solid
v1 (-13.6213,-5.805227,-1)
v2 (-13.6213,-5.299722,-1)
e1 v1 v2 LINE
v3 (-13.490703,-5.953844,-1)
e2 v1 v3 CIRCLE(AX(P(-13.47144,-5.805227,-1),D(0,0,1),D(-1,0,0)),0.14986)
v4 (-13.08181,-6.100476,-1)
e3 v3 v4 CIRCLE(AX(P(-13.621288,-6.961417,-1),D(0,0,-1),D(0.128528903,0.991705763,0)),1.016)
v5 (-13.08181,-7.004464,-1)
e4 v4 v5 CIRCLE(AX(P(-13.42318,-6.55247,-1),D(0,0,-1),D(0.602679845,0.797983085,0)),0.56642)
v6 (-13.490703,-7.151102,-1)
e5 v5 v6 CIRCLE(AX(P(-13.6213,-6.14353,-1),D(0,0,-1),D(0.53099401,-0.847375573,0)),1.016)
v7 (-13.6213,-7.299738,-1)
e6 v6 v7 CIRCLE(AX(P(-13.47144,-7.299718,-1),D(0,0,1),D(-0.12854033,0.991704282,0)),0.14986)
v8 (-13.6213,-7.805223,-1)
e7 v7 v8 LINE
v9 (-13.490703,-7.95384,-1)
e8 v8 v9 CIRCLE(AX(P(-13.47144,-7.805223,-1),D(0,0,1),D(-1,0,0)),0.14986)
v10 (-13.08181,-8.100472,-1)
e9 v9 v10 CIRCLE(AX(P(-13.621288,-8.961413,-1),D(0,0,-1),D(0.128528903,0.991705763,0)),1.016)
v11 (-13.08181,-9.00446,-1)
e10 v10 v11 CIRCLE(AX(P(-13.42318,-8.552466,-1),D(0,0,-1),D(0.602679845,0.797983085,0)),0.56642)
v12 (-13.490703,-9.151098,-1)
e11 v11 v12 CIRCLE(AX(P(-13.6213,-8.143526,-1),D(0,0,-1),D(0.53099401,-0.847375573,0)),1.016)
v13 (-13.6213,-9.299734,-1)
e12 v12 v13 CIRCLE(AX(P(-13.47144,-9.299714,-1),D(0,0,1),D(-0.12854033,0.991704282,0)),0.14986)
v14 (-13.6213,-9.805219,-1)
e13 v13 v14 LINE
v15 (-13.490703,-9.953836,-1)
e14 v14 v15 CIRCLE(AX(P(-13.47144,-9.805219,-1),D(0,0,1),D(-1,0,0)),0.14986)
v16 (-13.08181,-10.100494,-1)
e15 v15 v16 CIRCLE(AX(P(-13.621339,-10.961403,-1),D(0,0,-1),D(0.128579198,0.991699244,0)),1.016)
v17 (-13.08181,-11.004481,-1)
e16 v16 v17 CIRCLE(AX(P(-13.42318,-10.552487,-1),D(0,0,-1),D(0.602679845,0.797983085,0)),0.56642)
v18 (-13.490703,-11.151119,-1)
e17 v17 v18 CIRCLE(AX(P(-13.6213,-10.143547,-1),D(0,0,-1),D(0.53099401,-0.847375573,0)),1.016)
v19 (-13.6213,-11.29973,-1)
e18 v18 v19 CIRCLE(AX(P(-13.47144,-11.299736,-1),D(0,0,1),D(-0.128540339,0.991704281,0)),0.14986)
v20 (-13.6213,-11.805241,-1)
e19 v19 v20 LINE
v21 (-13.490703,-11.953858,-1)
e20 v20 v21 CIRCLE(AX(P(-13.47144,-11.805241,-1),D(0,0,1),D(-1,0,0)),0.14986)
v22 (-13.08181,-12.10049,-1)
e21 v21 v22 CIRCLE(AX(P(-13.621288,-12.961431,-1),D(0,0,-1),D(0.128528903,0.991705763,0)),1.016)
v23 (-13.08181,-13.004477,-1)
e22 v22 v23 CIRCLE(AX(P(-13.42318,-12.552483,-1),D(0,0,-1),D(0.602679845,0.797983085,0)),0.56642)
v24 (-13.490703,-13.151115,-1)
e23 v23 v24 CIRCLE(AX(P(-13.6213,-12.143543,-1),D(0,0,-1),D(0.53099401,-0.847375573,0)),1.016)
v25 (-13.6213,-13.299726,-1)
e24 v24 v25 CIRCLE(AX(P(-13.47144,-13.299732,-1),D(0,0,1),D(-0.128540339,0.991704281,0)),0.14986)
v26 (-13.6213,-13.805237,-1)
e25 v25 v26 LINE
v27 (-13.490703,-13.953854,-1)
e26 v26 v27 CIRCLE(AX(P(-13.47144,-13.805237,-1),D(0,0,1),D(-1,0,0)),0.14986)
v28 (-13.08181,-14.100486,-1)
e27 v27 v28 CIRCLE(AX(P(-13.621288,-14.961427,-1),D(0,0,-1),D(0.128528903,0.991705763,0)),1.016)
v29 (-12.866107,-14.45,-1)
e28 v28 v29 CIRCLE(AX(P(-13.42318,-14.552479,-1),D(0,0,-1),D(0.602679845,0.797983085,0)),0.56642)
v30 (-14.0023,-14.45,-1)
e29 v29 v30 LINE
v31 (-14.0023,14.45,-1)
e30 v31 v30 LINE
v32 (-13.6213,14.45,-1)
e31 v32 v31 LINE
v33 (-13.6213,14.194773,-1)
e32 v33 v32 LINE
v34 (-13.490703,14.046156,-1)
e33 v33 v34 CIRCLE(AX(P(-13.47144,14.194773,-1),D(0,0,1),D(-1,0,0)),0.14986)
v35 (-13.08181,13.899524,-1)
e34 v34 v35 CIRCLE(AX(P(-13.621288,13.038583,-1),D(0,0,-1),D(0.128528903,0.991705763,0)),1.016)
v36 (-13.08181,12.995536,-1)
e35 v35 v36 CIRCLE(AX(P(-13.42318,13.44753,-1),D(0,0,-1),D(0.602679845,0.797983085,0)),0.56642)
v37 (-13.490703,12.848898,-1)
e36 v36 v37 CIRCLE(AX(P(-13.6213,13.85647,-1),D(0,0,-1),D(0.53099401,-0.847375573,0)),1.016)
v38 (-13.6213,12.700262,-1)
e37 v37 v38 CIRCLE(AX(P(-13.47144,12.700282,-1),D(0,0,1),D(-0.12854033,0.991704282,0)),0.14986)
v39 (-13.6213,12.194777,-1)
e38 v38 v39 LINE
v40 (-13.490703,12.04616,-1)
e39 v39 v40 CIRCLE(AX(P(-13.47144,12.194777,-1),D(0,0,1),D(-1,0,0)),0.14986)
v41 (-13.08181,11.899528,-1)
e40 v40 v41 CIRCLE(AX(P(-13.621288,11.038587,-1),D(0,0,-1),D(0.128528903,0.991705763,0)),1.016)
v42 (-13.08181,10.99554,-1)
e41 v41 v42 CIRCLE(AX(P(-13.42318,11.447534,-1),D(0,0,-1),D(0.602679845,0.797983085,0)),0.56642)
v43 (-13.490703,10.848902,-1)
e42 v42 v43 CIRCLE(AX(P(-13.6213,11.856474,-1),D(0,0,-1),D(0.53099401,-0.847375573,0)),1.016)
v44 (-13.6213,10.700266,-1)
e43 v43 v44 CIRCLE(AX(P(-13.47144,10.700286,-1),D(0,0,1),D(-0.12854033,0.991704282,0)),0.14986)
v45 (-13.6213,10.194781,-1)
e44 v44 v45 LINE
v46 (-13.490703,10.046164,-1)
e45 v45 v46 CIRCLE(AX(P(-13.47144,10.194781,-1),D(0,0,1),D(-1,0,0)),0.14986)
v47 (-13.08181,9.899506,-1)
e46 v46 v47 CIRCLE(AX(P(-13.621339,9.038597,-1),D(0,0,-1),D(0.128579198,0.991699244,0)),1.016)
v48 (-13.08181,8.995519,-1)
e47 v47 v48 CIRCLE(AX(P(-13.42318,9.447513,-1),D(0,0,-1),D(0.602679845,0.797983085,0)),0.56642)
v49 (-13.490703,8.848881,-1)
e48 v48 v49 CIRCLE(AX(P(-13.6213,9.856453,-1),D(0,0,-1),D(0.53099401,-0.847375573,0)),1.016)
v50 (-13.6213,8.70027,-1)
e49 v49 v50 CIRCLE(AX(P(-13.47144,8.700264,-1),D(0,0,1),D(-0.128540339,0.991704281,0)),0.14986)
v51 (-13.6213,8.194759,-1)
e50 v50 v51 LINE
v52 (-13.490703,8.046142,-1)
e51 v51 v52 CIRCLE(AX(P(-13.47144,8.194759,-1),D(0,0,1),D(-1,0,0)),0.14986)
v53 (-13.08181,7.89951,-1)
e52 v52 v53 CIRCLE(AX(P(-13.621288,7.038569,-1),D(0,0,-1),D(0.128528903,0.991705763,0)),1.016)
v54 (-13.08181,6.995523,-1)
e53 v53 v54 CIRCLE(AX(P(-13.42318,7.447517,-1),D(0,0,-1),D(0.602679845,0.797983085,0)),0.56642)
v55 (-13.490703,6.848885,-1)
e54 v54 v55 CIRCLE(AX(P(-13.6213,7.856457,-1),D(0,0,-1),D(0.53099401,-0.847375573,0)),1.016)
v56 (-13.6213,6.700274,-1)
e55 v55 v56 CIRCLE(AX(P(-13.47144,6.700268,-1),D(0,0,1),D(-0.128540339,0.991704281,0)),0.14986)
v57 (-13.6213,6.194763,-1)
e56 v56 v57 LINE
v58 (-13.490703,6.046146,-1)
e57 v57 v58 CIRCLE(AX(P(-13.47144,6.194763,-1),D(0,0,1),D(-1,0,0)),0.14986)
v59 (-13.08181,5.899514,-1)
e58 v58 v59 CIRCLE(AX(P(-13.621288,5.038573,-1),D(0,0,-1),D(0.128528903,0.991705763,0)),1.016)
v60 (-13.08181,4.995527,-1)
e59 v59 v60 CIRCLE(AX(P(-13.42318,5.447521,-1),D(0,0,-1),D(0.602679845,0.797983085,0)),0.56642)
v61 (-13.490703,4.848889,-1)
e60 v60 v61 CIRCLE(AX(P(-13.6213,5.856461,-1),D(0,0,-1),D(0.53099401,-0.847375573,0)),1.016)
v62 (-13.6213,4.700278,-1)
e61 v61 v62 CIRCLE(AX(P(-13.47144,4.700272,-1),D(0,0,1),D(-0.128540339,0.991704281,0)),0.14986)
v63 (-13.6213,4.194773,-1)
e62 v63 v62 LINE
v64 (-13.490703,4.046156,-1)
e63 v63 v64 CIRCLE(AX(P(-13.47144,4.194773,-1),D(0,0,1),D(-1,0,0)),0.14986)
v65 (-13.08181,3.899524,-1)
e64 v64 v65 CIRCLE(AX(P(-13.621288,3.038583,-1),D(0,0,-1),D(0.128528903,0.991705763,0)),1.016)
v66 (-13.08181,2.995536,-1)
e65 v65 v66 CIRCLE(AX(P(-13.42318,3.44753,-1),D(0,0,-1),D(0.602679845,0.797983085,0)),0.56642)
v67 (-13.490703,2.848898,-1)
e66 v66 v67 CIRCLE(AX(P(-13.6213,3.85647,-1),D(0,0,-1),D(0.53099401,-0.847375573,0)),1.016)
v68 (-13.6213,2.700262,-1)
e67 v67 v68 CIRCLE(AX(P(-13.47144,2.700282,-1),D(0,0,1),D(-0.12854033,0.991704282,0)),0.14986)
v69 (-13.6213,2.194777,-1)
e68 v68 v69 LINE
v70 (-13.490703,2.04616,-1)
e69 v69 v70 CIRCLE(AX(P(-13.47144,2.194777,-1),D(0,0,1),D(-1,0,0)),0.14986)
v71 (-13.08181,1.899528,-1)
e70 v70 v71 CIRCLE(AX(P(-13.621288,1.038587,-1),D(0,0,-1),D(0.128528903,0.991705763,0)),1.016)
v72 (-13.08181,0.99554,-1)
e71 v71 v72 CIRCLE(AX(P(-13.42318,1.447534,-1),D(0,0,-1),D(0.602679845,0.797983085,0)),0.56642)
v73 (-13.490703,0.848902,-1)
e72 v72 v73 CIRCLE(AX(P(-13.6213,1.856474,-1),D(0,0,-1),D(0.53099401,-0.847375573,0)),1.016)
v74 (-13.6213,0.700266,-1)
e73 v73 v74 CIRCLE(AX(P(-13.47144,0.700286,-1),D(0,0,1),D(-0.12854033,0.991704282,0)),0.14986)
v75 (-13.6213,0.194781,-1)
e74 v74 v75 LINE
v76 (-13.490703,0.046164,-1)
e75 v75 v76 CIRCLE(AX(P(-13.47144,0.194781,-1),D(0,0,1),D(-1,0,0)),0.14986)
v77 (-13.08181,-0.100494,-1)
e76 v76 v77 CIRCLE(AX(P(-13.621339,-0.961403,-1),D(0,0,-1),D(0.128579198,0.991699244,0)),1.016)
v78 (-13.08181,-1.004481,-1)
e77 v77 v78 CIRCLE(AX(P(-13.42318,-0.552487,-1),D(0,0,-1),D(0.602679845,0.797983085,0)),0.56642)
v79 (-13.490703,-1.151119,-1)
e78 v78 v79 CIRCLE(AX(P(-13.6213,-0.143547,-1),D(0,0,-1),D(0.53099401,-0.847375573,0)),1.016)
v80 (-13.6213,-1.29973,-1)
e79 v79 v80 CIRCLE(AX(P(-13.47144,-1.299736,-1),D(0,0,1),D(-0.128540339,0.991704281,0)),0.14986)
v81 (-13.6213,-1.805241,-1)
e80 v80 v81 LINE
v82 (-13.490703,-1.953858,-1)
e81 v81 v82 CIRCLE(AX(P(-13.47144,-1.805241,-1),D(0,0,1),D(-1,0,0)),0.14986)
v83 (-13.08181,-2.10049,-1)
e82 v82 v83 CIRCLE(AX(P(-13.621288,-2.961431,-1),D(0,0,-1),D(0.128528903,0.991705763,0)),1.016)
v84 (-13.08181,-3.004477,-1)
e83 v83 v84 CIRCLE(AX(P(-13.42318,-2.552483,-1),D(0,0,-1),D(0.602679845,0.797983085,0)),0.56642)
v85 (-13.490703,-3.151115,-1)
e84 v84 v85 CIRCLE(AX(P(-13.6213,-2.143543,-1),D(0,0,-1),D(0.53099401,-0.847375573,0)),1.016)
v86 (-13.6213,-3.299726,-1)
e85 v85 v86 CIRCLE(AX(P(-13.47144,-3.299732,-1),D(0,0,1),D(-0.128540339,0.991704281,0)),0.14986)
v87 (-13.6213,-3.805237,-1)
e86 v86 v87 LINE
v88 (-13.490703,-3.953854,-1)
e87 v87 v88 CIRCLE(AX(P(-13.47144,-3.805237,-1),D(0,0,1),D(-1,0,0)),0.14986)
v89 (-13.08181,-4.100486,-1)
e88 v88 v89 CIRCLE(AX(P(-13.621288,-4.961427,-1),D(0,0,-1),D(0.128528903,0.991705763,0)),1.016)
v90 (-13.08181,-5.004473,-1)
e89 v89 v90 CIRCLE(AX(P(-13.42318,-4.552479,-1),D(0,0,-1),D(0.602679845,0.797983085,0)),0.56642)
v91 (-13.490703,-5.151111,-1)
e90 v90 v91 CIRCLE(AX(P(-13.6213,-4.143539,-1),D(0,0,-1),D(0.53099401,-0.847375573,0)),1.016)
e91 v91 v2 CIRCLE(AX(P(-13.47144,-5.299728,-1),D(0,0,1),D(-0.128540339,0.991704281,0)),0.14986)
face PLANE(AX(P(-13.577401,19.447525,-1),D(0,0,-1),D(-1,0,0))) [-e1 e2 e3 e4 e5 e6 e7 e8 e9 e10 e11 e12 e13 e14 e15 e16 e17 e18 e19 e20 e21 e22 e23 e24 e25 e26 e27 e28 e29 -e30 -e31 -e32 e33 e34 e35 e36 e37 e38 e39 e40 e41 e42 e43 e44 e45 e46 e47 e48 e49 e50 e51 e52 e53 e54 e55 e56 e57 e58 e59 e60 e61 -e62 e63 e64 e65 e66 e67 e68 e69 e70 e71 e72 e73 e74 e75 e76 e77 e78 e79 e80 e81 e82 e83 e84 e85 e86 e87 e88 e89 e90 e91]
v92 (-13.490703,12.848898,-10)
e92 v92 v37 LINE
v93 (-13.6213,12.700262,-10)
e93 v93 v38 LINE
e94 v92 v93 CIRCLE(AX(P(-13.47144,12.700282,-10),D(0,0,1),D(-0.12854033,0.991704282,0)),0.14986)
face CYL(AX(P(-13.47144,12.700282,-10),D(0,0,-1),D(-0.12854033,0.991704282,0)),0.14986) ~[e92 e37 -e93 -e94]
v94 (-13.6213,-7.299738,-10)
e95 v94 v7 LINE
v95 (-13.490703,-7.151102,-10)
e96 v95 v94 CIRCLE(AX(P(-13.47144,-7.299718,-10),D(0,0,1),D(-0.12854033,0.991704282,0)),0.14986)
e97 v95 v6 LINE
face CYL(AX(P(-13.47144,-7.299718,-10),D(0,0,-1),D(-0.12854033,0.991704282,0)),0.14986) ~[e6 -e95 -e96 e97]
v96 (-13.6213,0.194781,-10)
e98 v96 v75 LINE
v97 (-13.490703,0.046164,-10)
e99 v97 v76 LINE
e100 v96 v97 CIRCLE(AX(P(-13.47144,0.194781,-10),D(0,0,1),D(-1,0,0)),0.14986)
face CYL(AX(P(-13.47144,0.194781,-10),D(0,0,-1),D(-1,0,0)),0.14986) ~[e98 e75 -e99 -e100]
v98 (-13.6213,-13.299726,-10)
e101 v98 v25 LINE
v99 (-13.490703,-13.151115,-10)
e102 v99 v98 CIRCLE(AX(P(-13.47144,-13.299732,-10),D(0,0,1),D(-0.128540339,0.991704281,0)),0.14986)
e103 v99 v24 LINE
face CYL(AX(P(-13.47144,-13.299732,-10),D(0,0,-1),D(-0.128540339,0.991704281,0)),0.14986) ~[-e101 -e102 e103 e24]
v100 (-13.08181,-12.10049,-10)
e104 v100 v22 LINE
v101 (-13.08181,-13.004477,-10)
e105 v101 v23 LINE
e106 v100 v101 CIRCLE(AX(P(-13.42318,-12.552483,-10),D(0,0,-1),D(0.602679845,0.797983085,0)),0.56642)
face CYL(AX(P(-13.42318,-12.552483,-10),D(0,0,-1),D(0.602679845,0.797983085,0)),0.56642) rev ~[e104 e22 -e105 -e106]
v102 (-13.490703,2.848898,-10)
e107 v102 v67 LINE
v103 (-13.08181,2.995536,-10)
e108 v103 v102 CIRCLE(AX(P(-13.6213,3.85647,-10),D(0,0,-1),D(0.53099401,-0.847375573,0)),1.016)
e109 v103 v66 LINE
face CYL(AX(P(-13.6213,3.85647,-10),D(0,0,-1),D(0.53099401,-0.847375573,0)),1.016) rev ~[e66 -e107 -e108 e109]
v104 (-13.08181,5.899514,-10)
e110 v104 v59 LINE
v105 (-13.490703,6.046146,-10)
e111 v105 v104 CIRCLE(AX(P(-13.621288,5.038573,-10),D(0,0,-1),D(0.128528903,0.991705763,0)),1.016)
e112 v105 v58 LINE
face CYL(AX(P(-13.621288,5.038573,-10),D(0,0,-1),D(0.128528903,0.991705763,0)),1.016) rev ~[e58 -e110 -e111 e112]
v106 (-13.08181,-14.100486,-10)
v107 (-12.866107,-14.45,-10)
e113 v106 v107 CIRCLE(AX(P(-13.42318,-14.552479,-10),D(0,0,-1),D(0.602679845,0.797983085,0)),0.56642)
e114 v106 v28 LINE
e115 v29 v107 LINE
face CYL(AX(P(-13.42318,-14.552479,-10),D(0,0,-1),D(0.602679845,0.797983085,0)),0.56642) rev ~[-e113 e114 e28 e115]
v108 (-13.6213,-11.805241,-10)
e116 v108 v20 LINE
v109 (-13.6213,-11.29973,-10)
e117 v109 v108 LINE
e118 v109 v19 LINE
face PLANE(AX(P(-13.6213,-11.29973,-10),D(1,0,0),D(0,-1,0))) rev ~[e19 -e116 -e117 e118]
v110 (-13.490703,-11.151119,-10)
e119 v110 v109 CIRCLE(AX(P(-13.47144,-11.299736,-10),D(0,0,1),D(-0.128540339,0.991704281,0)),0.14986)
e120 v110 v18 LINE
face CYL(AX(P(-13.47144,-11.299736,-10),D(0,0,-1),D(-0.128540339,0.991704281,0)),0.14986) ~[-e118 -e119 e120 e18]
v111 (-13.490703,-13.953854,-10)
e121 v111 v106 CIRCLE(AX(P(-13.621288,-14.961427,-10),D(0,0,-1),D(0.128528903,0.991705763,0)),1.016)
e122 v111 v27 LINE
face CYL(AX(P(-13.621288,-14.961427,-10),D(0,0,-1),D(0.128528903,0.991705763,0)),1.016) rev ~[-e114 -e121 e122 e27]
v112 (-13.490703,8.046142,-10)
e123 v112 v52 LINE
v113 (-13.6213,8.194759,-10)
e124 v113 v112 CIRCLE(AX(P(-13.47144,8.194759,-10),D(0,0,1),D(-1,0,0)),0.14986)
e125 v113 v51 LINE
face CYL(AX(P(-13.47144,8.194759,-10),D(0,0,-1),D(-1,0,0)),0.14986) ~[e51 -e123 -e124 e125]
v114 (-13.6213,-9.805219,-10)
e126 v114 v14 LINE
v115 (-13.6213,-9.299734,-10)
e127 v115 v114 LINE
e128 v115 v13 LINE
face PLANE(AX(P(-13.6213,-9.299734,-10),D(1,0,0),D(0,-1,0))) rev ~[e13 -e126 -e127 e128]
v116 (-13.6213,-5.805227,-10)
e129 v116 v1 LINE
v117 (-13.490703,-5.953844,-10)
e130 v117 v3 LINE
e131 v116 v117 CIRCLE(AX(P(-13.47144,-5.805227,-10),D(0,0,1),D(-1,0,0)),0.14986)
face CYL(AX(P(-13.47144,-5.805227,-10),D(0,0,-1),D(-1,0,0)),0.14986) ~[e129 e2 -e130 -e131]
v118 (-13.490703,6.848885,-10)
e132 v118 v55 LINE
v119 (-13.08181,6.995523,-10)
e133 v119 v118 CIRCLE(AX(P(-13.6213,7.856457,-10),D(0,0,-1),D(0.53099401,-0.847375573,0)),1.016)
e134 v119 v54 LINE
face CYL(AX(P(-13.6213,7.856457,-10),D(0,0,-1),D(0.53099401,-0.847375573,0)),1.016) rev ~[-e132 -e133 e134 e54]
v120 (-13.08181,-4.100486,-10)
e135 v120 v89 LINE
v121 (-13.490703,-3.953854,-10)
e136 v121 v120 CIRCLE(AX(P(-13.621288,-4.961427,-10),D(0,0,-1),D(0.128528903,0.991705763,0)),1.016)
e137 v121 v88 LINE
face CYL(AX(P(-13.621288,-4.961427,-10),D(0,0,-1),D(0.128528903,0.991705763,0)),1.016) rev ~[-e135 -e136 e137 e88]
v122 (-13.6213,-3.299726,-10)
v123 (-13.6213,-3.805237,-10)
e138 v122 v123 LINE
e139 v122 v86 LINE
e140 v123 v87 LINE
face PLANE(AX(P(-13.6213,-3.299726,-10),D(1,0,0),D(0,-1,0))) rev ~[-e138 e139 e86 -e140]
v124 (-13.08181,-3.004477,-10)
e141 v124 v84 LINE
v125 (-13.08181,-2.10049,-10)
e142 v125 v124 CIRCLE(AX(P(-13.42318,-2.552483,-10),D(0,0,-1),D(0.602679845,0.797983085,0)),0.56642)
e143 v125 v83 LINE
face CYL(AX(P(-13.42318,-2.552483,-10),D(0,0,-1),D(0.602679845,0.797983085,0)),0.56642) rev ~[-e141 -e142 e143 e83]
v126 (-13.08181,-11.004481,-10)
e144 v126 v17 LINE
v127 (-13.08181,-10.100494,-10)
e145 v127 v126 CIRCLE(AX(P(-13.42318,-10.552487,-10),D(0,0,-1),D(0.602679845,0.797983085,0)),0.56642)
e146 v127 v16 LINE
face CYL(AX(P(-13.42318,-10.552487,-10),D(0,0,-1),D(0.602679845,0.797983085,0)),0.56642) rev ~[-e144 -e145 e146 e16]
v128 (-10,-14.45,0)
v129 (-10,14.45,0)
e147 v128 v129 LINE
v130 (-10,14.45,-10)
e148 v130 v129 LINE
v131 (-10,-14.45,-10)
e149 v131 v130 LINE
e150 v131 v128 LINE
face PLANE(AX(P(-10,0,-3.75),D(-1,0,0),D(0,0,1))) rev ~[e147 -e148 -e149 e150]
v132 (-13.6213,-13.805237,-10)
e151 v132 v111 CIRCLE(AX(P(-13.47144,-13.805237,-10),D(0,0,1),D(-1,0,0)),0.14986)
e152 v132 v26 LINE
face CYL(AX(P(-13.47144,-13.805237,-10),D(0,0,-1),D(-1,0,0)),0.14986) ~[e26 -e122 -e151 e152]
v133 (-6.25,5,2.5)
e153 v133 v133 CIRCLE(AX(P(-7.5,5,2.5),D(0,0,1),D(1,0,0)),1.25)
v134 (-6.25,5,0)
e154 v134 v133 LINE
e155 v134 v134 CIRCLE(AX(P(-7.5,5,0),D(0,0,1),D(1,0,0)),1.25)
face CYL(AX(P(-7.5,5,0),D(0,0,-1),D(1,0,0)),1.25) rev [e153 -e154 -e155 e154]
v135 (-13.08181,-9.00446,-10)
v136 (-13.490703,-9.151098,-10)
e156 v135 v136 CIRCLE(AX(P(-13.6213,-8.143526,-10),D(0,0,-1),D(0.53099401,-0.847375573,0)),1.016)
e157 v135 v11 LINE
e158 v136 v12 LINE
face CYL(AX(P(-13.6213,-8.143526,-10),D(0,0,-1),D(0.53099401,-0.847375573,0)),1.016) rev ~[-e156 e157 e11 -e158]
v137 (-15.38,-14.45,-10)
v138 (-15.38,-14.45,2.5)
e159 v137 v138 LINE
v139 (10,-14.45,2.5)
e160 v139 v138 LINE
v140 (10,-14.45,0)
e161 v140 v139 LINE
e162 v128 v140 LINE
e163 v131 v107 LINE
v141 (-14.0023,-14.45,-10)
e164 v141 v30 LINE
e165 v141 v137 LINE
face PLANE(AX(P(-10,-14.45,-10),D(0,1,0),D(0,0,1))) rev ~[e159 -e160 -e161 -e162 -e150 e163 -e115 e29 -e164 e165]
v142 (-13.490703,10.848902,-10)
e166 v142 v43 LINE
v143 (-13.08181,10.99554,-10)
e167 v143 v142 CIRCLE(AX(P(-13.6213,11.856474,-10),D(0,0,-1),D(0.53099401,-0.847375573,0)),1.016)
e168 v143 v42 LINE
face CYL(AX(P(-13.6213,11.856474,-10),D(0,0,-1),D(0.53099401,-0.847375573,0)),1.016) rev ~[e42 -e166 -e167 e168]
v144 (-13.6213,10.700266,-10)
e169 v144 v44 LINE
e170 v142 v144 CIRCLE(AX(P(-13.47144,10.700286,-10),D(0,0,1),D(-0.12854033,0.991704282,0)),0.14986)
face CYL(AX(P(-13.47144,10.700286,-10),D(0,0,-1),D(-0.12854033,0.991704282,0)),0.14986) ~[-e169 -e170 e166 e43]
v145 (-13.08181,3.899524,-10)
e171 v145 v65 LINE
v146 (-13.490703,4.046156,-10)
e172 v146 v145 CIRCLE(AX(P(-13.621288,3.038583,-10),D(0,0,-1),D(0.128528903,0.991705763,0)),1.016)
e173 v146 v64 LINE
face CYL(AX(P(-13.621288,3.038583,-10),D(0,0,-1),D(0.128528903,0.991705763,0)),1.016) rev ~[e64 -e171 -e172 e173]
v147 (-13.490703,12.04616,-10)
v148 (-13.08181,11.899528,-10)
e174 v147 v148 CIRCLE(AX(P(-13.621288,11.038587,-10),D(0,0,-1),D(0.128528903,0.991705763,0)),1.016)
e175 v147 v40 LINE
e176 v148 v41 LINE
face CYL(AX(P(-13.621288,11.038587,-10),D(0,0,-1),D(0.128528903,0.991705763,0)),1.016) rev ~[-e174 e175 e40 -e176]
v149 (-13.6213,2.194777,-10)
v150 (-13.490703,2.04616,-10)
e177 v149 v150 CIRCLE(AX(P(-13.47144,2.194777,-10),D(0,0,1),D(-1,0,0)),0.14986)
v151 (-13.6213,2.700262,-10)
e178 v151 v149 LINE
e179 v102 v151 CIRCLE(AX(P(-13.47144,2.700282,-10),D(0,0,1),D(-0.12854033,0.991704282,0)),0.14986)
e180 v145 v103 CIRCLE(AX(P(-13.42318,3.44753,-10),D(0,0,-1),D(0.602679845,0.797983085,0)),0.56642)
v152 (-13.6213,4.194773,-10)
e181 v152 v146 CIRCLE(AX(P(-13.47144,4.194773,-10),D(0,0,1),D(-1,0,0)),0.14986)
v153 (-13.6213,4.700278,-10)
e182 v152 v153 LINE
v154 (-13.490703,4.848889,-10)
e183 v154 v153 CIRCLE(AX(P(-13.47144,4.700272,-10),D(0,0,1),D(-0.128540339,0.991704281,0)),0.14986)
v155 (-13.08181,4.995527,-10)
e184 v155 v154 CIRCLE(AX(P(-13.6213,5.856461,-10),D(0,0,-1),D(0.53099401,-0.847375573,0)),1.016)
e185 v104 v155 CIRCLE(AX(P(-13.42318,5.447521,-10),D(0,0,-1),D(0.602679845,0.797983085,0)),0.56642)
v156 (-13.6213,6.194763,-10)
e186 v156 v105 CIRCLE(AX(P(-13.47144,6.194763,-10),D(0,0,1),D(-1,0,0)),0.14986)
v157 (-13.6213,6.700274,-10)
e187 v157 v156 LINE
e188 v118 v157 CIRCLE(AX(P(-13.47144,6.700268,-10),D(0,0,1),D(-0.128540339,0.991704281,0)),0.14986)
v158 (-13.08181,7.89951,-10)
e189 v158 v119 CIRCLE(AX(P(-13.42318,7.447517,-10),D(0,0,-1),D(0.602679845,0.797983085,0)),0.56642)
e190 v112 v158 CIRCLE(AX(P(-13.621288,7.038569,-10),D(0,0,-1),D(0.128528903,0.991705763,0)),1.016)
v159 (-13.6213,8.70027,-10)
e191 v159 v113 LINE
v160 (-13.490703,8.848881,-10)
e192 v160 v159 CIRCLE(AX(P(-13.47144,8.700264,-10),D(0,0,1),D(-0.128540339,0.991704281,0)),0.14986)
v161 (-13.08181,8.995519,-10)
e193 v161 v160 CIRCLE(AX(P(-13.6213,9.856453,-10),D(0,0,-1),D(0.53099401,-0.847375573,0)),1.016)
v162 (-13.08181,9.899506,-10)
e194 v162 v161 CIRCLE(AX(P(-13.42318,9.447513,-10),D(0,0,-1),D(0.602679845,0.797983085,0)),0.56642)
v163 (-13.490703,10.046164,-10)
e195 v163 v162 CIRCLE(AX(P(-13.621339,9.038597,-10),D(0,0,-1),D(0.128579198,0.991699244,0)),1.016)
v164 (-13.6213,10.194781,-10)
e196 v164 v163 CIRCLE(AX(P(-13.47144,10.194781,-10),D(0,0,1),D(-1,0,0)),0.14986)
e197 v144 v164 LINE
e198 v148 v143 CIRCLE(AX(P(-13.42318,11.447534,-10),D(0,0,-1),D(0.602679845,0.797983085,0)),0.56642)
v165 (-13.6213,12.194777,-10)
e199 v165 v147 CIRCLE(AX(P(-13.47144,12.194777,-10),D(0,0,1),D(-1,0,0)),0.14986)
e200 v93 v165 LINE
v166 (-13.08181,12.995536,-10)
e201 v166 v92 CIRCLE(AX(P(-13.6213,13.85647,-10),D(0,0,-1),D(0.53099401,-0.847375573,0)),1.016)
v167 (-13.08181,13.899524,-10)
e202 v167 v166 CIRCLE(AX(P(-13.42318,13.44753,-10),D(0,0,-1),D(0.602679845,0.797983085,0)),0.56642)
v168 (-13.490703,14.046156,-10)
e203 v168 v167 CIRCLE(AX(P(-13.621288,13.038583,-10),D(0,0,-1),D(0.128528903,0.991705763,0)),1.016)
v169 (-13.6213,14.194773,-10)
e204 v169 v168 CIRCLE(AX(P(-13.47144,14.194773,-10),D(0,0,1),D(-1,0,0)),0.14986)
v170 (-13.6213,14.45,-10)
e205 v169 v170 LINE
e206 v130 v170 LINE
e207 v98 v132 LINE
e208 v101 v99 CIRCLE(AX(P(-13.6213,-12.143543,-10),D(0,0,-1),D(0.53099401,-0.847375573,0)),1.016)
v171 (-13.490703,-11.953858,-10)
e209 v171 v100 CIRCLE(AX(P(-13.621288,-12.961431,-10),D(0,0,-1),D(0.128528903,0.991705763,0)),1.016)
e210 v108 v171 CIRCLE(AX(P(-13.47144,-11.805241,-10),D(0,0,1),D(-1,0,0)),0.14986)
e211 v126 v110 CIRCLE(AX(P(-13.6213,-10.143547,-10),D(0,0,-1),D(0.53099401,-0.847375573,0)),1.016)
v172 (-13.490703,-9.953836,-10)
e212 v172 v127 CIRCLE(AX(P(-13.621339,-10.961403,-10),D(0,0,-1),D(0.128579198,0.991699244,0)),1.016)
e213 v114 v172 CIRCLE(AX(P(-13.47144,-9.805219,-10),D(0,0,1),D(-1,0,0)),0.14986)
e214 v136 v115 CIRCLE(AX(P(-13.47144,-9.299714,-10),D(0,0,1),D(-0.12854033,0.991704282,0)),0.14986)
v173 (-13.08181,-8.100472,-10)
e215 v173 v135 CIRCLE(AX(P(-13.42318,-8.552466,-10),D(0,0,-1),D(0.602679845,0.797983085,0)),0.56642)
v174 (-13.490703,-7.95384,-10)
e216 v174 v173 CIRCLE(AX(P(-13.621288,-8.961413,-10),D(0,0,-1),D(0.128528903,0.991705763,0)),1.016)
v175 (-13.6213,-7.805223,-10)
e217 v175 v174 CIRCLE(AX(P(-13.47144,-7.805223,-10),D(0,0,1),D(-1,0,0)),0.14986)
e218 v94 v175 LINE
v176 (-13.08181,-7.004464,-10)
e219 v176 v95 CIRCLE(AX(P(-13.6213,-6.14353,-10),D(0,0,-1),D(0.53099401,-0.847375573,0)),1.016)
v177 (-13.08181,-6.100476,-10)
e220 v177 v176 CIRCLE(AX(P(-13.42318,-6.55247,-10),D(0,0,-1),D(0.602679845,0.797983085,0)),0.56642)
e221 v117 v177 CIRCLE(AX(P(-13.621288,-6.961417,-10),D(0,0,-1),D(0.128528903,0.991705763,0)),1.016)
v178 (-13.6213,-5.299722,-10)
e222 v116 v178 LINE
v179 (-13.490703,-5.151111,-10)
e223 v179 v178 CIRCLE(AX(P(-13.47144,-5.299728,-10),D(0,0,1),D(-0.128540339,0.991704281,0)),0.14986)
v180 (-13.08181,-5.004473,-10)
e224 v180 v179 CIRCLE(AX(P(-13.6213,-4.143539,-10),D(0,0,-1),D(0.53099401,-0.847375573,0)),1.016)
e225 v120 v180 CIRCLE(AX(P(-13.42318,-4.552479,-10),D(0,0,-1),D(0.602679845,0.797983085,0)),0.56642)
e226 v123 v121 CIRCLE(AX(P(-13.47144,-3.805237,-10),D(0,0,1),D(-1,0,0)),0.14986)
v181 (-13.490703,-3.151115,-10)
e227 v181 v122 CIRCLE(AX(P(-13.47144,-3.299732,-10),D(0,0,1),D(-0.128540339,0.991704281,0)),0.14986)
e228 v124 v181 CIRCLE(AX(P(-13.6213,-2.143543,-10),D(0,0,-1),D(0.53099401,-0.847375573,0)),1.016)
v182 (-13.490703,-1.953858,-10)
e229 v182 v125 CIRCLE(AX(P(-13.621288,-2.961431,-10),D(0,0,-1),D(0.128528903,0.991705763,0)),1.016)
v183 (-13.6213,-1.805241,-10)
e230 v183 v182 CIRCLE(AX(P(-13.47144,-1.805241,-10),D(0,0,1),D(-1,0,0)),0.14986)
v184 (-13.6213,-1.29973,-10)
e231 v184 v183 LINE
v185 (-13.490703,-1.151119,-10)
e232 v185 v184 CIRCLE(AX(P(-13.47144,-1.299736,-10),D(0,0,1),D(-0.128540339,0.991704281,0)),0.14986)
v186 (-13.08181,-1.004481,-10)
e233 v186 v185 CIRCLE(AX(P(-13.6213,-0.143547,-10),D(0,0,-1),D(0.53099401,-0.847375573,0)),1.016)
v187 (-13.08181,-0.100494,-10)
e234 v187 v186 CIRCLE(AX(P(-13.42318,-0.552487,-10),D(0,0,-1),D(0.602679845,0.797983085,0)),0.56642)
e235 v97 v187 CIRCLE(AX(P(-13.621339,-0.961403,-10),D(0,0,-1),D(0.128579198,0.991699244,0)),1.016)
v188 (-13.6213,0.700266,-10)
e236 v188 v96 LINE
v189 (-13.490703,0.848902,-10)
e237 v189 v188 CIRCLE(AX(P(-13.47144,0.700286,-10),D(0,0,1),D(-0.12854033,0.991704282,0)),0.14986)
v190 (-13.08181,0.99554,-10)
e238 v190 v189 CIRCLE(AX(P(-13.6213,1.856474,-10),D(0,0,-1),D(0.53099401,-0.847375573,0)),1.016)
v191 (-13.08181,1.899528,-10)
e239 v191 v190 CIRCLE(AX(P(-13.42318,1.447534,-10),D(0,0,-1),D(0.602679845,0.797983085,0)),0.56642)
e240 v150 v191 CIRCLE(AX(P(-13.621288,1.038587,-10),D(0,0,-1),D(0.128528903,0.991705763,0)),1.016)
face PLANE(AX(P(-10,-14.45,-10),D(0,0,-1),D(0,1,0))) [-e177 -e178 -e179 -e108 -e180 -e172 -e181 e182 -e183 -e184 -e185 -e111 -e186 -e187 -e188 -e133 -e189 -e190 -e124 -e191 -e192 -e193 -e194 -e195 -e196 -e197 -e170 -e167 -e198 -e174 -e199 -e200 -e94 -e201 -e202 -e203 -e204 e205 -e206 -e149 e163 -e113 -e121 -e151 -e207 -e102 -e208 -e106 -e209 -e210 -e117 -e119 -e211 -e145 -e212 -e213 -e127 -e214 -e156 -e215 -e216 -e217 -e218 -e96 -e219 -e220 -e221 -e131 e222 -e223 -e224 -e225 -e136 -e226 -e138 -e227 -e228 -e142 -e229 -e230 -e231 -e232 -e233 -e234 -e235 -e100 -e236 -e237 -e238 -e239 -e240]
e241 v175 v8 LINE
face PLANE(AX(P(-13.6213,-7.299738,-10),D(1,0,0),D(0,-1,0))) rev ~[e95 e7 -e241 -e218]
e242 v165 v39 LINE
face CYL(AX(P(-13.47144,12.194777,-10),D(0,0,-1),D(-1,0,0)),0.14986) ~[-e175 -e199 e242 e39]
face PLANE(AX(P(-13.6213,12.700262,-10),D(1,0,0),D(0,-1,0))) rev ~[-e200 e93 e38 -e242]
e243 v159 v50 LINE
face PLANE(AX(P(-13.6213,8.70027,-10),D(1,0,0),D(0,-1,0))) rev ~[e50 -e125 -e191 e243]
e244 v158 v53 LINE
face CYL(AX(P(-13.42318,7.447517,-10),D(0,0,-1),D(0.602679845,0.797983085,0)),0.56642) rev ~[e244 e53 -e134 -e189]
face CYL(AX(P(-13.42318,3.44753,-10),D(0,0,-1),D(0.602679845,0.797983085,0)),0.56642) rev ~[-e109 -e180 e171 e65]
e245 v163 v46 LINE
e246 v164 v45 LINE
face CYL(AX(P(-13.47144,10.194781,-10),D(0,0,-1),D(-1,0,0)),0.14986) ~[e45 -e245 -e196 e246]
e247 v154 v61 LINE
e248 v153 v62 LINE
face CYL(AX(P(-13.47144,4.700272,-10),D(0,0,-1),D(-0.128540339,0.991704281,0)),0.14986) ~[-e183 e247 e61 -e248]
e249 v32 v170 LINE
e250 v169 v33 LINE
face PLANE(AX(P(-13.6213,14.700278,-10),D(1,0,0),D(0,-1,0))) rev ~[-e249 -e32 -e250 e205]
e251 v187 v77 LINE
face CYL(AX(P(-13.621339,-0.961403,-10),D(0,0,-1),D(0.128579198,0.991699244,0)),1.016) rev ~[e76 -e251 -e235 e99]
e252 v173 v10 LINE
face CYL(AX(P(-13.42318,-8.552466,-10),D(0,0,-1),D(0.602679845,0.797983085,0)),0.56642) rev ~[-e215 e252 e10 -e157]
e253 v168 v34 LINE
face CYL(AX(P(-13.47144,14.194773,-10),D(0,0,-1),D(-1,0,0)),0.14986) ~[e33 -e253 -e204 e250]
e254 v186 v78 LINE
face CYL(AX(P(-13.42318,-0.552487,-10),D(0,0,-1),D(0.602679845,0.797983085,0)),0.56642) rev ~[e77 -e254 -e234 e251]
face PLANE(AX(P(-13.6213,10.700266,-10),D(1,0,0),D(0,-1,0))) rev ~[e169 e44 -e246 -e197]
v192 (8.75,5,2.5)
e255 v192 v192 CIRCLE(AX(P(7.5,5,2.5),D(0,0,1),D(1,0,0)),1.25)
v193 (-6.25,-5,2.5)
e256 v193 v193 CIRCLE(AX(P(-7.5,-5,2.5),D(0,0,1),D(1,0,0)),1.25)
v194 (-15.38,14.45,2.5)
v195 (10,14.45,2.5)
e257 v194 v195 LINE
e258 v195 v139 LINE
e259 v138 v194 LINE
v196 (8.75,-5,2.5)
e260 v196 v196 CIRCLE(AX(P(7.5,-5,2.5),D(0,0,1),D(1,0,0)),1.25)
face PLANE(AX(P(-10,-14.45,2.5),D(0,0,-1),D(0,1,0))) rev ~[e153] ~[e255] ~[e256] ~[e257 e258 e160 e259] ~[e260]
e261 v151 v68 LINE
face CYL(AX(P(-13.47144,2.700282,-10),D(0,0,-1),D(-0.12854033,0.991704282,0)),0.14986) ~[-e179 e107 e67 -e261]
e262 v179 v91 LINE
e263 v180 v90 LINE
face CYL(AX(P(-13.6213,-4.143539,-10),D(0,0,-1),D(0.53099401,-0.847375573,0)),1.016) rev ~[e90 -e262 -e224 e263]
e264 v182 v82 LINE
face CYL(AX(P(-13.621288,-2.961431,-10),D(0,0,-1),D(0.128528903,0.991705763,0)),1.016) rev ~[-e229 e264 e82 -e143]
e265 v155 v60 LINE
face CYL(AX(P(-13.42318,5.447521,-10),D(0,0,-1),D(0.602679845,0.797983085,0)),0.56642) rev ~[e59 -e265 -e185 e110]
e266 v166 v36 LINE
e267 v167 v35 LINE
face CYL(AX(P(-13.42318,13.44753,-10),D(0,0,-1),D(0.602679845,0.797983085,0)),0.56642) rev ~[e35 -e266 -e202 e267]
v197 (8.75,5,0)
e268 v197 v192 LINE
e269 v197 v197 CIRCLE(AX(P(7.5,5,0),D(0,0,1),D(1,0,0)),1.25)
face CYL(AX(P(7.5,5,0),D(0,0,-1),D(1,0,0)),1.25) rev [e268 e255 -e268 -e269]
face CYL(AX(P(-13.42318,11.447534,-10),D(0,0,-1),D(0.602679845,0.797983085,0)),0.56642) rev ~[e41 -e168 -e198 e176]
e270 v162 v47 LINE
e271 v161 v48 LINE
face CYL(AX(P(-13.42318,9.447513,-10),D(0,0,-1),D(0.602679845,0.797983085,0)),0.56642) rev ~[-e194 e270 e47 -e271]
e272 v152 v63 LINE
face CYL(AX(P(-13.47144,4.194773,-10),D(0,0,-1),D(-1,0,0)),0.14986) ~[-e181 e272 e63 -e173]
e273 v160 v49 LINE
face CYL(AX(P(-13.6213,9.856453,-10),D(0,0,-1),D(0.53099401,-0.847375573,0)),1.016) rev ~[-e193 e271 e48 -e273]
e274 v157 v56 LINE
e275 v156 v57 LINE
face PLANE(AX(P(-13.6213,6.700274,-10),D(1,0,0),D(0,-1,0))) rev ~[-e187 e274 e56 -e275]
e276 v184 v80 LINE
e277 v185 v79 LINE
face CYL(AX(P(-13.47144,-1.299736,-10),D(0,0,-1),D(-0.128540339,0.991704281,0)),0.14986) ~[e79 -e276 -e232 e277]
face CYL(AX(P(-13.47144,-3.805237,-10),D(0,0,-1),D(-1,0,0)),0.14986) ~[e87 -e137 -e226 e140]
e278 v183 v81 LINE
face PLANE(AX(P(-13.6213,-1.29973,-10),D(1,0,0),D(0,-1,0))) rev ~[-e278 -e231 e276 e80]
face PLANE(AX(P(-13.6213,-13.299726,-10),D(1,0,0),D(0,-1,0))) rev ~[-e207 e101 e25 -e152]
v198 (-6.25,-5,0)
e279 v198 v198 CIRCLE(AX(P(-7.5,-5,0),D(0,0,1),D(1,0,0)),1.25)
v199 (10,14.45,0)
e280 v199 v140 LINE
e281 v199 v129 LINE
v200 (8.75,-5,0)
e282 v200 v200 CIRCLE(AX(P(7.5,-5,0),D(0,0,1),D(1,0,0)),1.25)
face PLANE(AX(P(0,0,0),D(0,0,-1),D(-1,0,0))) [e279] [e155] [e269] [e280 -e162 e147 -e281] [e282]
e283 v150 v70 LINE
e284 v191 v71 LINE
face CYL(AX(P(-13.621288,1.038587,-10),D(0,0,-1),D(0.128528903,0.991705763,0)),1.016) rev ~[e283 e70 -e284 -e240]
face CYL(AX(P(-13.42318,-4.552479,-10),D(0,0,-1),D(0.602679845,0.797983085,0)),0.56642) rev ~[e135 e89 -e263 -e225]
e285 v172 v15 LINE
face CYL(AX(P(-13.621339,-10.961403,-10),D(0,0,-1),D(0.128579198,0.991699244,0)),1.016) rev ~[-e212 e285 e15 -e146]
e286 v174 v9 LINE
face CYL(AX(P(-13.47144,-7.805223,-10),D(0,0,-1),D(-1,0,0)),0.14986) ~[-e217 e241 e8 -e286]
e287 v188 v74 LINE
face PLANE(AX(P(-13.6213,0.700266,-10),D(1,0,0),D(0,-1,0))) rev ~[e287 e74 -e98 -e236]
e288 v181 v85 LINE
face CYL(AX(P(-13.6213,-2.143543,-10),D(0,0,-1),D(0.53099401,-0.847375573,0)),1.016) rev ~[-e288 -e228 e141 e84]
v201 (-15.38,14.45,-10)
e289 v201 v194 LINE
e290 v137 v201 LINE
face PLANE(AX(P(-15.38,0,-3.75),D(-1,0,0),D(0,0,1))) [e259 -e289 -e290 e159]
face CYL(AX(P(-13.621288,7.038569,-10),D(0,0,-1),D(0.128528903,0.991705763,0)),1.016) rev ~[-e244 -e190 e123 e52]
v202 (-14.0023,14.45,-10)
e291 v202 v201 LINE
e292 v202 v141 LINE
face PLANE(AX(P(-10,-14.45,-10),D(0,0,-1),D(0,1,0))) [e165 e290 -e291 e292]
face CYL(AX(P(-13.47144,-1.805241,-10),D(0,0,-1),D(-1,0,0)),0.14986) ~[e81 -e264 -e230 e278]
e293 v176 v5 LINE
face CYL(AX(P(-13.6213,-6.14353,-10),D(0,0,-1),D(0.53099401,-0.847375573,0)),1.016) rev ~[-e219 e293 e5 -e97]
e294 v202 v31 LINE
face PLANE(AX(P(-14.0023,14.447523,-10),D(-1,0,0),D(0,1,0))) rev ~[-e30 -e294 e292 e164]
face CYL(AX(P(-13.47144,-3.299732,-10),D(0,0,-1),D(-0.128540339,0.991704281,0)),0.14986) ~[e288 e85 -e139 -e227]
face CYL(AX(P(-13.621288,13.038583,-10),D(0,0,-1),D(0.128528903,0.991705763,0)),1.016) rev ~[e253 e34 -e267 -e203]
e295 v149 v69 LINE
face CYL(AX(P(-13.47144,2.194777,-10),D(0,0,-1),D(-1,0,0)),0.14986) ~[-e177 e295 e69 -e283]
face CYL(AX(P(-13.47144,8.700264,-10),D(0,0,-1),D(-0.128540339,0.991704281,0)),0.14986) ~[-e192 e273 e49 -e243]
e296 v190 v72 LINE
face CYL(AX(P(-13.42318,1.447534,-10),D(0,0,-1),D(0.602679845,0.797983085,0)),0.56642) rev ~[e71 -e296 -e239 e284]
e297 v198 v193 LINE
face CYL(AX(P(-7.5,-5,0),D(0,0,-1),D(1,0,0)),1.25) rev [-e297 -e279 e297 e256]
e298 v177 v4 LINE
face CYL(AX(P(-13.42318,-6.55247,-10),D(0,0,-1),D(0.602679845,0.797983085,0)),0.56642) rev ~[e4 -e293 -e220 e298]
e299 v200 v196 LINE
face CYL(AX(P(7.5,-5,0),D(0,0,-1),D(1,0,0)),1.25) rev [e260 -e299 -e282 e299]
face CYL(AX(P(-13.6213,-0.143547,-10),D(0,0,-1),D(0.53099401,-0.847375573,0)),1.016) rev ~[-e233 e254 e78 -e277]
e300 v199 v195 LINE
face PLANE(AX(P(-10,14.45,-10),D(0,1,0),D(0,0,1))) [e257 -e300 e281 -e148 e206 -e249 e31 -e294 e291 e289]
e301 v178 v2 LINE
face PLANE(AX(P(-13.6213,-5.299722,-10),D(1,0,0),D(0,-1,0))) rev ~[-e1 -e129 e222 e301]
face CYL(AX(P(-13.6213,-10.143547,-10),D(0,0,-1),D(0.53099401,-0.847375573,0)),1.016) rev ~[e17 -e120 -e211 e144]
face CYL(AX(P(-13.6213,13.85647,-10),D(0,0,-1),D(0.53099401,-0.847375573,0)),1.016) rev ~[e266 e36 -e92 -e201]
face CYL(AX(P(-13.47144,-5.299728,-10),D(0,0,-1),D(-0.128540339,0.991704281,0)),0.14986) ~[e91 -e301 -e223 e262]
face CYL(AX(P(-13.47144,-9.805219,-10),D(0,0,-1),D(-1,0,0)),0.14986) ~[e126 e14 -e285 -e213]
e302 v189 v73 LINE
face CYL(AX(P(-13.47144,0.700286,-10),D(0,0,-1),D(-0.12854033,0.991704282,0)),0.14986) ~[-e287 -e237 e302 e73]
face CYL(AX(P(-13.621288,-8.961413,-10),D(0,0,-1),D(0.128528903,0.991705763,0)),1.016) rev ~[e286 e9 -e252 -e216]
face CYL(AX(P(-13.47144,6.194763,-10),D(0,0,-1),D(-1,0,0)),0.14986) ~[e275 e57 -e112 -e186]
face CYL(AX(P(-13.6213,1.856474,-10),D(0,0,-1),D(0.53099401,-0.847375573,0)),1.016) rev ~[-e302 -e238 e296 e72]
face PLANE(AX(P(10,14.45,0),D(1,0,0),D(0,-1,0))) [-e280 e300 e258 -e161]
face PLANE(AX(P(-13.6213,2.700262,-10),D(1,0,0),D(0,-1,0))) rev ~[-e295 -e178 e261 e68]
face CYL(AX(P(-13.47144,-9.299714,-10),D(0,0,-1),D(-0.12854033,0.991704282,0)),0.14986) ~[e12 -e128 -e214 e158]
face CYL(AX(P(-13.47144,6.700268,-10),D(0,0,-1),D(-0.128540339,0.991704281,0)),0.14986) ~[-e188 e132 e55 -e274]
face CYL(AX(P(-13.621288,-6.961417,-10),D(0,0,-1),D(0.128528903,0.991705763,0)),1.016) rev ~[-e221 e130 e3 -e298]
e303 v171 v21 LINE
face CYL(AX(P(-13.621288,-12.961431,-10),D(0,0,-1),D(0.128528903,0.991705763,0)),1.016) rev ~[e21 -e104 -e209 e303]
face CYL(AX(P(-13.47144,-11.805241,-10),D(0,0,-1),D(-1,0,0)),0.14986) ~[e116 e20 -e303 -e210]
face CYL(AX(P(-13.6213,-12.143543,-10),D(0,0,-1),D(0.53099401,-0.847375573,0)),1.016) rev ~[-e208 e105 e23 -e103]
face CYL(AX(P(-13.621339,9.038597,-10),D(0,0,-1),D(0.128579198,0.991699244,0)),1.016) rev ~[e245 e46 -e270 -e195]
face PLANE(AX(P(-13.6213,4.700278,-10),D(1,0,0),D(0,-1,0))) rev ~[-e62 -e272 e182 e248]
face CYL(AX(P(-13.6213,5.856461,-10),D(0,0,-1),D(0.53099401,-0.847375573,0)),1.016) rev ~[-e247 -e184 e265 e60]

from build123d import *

# Parameters (mm, degrees)
SKETCH1_R            = 1.25
BOSS_EXTRUDE1_DEPTH  = 2.5
SKETCH3_W            = 12.5
SKETCH3_H            = 28.9
BOSS_EXTRUDE2_DEPTH  = 5.38
CUT_EXTRUDE1_DEPTH   = 9
LPATTERN1_COUNT      = 4
LPATTERN1_PITCH      = 10
LPATTERN1_COUNT_DIR2 = 2
LPATTERN1_PITCH_DIR2 = 10


with BuildPart() as part:
    # Sketch1 → Boss-Extrude1 (new body)
    with BuildSketch(Plane.XY):
        Polygon((9.79, -14.45), (-8.795857864, -14.45), (-10, -14.45), (-10, 14.45), (-9.79, 14.45), (8.795857864, 14.45), (10, 14.45), (10, -14.45), align=None)
        with Locations((-7.5, -5)):
            Circle(SKETCH1_R, mode=Mode.SUBTRACT)
        with Locations((-7.5, 5)):
            Circle(SKETCH1_R, mode=Mode.SUBTRACT)
        with Locations((7.5, 5)):
            Circle(SKETCH1_R, mode=Mode.SUBTRACT)
        with Locations((7.5, -5)):
            Circle(SKETCH1_R, mode=Mode.SUBTRACT)
    extrude(amount=BOSS_EXTRUDE1_DEPTH)

    # Sketch3 → Boss-Extrude2 (add)
    with BuildSketch(Plane.ZY.offset(10)):
        with Locations((-3.75, 0)):
            Rectangle(SKETCH3_W, SKETCH3_H)
    extrude(amount=BOSS_EXTRUDE2_DEPTH)

    # Sketch4 → Cut-Extrude1 (cut)
    with BuildSketch(Plane(origin=(0, 0, -10), x_dir=(-1, 0, 0), z_dir=(0, 0, -1))):
        with BuildLine():
            Line((13.62129958, 14.447528029), (13.62129958, 14.194772629))
            ThreePointArc((13.62129958, 14.194772629), (13.584011291, 14.095850288), (13.49070263, 14.046155824))
            ThreePointArc((13.49070263, 14.046155824), (13.278327951, 13.994947975), (13.081809662, 13.899523608))
            ThreePointArc((13.081809662, 13.899523608), (12.85675958, 13.447530026), (13.081809666, 12.995536447))
            ThreePointArc((13.081809666, 12.995536447), (13.278327608, 12.9001091), (13.490702635, 12.848898474))
            ThreePointArc((13.490702635, 12.848898474), (13.584017776, 12.799196632), (13.62129958, 12.700262029))
            Line((13.62129958, 12.700262029), (13.62129958, 12.194776629))
            ThreePointArc((13.62129958, 12.194776629), (13.584011291, 12.095854288), (13.49070263, 12.046159824))
            ThreePointArc((13.49070263, 12.046159824), (13.278327951, 11.994951975), (13.081809662, 11.899527608))
            ThreePointArc((13.081809662, 11.899527608), (12.85675958, 11.447534026), (13.081809666, 10.995540447))
            ThreePointArc((13.081809666, 10.995540447), (13.278327608, 10.9001131), (13.490702635, 10.848902474))
            ThreePointArc((13.490702635, 10.848902474), (13.584017776, 10.799200632), (13.62129958, 10.700266029))
            Line((13.62129958, 10.700266029), (13.62129958, 10.194780629))
            ThreePointArc((13.62129958, 10.194780629), (13.584011291, 10.095858288), (13.49070263, 10.046163824))
            ThreePointArc((13.49070263, 10.046163824), (13.278326417, 9.994943722), (13.081809662, 9.899506208))
            ThreePointArc((13.081809662, 9.899506208), (12.85675958, 9.447512626), (13.081809666, 8.995519047))
            ThreePointArc((13.081809666, 8.995519047), (13.278327608, 8.9000917), (13.490702635, 8.848881074))
            ThreePointArc((13.490702635, 8.848881074), (13.584009392, 8.799188772), (13.62129958, 8.700270029))
            Line((13.62129958, 8.700270029), (13.62129958, 8.194759229))
            ThreePointArc((13.62129958, 8.194759229), (13.584011291, 8.095836888), (13.49070263, 8.046142424))
            ThreePointArc((13.49070263, 8.046142424), (13.278327951, 7.994934575), (13.081809662, 7.899510208))
            ThreePointArc((13.081809662, 7.899510208), (12.85675958, 7.447516626), (13.081809666, 6.995523047))
            ThreePointArc((13.081809666, 6.995523047), (13.278327608, 6.9000957), (13.490702635, 6.848885074))
            ThreePointArc((13.490702635, 6.848885074), (13.584009392, 6.799192772), (13.62129958, 6.700274029))
            Line((13.62129958, 6.700274029), (13.62129958, 6.194763229))
            ThreePointArc((13.62129958, 6.194763229), (13.584011291, 6.095840888), (13.49070263, 6.046146424))
            ThreePointArc((13.49070263, 6.046146424), (13.278327951, 5.994938575), (13.081809662, 5.899514208))
            ThreePointArc((13.081809662, 5.899514208), (12.85675958, 5.447520626), (13.081809666, 4.995527047))
            ThreePointArc((13.081809666, 4.995527047), (13.278327608, 4.9000997), (13.490702635, 4.848889074))
            ThreePointArc((13.490702635, 4.848889074), (13.584009392, 4.799196772), (13.62129958, 4.700278029))
            Line((13.62129958, 4.700278029), (13.62129958, 4.447522629))
            Line((13.62129958, 4.447522629), (14.00229958, 4.447522629))
            Line((14.00229958, 4.447522629), (14.00229958, 14.447528029))
            Line((14.00229958, 14.447528029), (13.62129958, 14.447528029))
        make_face()
    cut_extrude1 = extrude(amount=-CUT_EXTRUDE1_DEPTH, mode=Mode.SUBTRACT)

    # LPattern1: Cut-Extrude1 4 × 2
    with Locations(*[Vector(0, -1, 0) * (i * LPATTERN1_PITCH) + Vector(0, 1, 0) * (j * LPATTERN1_PITCH_DIR2) for i in range(LPATTERN1_COUNT) for j in range(LPATTERN1_COUNT_DIR2) if (i, j) != (0, 0)]):
        add(cut_extrude1, mode=Mode.SUBTRACT)


solid = part.part
